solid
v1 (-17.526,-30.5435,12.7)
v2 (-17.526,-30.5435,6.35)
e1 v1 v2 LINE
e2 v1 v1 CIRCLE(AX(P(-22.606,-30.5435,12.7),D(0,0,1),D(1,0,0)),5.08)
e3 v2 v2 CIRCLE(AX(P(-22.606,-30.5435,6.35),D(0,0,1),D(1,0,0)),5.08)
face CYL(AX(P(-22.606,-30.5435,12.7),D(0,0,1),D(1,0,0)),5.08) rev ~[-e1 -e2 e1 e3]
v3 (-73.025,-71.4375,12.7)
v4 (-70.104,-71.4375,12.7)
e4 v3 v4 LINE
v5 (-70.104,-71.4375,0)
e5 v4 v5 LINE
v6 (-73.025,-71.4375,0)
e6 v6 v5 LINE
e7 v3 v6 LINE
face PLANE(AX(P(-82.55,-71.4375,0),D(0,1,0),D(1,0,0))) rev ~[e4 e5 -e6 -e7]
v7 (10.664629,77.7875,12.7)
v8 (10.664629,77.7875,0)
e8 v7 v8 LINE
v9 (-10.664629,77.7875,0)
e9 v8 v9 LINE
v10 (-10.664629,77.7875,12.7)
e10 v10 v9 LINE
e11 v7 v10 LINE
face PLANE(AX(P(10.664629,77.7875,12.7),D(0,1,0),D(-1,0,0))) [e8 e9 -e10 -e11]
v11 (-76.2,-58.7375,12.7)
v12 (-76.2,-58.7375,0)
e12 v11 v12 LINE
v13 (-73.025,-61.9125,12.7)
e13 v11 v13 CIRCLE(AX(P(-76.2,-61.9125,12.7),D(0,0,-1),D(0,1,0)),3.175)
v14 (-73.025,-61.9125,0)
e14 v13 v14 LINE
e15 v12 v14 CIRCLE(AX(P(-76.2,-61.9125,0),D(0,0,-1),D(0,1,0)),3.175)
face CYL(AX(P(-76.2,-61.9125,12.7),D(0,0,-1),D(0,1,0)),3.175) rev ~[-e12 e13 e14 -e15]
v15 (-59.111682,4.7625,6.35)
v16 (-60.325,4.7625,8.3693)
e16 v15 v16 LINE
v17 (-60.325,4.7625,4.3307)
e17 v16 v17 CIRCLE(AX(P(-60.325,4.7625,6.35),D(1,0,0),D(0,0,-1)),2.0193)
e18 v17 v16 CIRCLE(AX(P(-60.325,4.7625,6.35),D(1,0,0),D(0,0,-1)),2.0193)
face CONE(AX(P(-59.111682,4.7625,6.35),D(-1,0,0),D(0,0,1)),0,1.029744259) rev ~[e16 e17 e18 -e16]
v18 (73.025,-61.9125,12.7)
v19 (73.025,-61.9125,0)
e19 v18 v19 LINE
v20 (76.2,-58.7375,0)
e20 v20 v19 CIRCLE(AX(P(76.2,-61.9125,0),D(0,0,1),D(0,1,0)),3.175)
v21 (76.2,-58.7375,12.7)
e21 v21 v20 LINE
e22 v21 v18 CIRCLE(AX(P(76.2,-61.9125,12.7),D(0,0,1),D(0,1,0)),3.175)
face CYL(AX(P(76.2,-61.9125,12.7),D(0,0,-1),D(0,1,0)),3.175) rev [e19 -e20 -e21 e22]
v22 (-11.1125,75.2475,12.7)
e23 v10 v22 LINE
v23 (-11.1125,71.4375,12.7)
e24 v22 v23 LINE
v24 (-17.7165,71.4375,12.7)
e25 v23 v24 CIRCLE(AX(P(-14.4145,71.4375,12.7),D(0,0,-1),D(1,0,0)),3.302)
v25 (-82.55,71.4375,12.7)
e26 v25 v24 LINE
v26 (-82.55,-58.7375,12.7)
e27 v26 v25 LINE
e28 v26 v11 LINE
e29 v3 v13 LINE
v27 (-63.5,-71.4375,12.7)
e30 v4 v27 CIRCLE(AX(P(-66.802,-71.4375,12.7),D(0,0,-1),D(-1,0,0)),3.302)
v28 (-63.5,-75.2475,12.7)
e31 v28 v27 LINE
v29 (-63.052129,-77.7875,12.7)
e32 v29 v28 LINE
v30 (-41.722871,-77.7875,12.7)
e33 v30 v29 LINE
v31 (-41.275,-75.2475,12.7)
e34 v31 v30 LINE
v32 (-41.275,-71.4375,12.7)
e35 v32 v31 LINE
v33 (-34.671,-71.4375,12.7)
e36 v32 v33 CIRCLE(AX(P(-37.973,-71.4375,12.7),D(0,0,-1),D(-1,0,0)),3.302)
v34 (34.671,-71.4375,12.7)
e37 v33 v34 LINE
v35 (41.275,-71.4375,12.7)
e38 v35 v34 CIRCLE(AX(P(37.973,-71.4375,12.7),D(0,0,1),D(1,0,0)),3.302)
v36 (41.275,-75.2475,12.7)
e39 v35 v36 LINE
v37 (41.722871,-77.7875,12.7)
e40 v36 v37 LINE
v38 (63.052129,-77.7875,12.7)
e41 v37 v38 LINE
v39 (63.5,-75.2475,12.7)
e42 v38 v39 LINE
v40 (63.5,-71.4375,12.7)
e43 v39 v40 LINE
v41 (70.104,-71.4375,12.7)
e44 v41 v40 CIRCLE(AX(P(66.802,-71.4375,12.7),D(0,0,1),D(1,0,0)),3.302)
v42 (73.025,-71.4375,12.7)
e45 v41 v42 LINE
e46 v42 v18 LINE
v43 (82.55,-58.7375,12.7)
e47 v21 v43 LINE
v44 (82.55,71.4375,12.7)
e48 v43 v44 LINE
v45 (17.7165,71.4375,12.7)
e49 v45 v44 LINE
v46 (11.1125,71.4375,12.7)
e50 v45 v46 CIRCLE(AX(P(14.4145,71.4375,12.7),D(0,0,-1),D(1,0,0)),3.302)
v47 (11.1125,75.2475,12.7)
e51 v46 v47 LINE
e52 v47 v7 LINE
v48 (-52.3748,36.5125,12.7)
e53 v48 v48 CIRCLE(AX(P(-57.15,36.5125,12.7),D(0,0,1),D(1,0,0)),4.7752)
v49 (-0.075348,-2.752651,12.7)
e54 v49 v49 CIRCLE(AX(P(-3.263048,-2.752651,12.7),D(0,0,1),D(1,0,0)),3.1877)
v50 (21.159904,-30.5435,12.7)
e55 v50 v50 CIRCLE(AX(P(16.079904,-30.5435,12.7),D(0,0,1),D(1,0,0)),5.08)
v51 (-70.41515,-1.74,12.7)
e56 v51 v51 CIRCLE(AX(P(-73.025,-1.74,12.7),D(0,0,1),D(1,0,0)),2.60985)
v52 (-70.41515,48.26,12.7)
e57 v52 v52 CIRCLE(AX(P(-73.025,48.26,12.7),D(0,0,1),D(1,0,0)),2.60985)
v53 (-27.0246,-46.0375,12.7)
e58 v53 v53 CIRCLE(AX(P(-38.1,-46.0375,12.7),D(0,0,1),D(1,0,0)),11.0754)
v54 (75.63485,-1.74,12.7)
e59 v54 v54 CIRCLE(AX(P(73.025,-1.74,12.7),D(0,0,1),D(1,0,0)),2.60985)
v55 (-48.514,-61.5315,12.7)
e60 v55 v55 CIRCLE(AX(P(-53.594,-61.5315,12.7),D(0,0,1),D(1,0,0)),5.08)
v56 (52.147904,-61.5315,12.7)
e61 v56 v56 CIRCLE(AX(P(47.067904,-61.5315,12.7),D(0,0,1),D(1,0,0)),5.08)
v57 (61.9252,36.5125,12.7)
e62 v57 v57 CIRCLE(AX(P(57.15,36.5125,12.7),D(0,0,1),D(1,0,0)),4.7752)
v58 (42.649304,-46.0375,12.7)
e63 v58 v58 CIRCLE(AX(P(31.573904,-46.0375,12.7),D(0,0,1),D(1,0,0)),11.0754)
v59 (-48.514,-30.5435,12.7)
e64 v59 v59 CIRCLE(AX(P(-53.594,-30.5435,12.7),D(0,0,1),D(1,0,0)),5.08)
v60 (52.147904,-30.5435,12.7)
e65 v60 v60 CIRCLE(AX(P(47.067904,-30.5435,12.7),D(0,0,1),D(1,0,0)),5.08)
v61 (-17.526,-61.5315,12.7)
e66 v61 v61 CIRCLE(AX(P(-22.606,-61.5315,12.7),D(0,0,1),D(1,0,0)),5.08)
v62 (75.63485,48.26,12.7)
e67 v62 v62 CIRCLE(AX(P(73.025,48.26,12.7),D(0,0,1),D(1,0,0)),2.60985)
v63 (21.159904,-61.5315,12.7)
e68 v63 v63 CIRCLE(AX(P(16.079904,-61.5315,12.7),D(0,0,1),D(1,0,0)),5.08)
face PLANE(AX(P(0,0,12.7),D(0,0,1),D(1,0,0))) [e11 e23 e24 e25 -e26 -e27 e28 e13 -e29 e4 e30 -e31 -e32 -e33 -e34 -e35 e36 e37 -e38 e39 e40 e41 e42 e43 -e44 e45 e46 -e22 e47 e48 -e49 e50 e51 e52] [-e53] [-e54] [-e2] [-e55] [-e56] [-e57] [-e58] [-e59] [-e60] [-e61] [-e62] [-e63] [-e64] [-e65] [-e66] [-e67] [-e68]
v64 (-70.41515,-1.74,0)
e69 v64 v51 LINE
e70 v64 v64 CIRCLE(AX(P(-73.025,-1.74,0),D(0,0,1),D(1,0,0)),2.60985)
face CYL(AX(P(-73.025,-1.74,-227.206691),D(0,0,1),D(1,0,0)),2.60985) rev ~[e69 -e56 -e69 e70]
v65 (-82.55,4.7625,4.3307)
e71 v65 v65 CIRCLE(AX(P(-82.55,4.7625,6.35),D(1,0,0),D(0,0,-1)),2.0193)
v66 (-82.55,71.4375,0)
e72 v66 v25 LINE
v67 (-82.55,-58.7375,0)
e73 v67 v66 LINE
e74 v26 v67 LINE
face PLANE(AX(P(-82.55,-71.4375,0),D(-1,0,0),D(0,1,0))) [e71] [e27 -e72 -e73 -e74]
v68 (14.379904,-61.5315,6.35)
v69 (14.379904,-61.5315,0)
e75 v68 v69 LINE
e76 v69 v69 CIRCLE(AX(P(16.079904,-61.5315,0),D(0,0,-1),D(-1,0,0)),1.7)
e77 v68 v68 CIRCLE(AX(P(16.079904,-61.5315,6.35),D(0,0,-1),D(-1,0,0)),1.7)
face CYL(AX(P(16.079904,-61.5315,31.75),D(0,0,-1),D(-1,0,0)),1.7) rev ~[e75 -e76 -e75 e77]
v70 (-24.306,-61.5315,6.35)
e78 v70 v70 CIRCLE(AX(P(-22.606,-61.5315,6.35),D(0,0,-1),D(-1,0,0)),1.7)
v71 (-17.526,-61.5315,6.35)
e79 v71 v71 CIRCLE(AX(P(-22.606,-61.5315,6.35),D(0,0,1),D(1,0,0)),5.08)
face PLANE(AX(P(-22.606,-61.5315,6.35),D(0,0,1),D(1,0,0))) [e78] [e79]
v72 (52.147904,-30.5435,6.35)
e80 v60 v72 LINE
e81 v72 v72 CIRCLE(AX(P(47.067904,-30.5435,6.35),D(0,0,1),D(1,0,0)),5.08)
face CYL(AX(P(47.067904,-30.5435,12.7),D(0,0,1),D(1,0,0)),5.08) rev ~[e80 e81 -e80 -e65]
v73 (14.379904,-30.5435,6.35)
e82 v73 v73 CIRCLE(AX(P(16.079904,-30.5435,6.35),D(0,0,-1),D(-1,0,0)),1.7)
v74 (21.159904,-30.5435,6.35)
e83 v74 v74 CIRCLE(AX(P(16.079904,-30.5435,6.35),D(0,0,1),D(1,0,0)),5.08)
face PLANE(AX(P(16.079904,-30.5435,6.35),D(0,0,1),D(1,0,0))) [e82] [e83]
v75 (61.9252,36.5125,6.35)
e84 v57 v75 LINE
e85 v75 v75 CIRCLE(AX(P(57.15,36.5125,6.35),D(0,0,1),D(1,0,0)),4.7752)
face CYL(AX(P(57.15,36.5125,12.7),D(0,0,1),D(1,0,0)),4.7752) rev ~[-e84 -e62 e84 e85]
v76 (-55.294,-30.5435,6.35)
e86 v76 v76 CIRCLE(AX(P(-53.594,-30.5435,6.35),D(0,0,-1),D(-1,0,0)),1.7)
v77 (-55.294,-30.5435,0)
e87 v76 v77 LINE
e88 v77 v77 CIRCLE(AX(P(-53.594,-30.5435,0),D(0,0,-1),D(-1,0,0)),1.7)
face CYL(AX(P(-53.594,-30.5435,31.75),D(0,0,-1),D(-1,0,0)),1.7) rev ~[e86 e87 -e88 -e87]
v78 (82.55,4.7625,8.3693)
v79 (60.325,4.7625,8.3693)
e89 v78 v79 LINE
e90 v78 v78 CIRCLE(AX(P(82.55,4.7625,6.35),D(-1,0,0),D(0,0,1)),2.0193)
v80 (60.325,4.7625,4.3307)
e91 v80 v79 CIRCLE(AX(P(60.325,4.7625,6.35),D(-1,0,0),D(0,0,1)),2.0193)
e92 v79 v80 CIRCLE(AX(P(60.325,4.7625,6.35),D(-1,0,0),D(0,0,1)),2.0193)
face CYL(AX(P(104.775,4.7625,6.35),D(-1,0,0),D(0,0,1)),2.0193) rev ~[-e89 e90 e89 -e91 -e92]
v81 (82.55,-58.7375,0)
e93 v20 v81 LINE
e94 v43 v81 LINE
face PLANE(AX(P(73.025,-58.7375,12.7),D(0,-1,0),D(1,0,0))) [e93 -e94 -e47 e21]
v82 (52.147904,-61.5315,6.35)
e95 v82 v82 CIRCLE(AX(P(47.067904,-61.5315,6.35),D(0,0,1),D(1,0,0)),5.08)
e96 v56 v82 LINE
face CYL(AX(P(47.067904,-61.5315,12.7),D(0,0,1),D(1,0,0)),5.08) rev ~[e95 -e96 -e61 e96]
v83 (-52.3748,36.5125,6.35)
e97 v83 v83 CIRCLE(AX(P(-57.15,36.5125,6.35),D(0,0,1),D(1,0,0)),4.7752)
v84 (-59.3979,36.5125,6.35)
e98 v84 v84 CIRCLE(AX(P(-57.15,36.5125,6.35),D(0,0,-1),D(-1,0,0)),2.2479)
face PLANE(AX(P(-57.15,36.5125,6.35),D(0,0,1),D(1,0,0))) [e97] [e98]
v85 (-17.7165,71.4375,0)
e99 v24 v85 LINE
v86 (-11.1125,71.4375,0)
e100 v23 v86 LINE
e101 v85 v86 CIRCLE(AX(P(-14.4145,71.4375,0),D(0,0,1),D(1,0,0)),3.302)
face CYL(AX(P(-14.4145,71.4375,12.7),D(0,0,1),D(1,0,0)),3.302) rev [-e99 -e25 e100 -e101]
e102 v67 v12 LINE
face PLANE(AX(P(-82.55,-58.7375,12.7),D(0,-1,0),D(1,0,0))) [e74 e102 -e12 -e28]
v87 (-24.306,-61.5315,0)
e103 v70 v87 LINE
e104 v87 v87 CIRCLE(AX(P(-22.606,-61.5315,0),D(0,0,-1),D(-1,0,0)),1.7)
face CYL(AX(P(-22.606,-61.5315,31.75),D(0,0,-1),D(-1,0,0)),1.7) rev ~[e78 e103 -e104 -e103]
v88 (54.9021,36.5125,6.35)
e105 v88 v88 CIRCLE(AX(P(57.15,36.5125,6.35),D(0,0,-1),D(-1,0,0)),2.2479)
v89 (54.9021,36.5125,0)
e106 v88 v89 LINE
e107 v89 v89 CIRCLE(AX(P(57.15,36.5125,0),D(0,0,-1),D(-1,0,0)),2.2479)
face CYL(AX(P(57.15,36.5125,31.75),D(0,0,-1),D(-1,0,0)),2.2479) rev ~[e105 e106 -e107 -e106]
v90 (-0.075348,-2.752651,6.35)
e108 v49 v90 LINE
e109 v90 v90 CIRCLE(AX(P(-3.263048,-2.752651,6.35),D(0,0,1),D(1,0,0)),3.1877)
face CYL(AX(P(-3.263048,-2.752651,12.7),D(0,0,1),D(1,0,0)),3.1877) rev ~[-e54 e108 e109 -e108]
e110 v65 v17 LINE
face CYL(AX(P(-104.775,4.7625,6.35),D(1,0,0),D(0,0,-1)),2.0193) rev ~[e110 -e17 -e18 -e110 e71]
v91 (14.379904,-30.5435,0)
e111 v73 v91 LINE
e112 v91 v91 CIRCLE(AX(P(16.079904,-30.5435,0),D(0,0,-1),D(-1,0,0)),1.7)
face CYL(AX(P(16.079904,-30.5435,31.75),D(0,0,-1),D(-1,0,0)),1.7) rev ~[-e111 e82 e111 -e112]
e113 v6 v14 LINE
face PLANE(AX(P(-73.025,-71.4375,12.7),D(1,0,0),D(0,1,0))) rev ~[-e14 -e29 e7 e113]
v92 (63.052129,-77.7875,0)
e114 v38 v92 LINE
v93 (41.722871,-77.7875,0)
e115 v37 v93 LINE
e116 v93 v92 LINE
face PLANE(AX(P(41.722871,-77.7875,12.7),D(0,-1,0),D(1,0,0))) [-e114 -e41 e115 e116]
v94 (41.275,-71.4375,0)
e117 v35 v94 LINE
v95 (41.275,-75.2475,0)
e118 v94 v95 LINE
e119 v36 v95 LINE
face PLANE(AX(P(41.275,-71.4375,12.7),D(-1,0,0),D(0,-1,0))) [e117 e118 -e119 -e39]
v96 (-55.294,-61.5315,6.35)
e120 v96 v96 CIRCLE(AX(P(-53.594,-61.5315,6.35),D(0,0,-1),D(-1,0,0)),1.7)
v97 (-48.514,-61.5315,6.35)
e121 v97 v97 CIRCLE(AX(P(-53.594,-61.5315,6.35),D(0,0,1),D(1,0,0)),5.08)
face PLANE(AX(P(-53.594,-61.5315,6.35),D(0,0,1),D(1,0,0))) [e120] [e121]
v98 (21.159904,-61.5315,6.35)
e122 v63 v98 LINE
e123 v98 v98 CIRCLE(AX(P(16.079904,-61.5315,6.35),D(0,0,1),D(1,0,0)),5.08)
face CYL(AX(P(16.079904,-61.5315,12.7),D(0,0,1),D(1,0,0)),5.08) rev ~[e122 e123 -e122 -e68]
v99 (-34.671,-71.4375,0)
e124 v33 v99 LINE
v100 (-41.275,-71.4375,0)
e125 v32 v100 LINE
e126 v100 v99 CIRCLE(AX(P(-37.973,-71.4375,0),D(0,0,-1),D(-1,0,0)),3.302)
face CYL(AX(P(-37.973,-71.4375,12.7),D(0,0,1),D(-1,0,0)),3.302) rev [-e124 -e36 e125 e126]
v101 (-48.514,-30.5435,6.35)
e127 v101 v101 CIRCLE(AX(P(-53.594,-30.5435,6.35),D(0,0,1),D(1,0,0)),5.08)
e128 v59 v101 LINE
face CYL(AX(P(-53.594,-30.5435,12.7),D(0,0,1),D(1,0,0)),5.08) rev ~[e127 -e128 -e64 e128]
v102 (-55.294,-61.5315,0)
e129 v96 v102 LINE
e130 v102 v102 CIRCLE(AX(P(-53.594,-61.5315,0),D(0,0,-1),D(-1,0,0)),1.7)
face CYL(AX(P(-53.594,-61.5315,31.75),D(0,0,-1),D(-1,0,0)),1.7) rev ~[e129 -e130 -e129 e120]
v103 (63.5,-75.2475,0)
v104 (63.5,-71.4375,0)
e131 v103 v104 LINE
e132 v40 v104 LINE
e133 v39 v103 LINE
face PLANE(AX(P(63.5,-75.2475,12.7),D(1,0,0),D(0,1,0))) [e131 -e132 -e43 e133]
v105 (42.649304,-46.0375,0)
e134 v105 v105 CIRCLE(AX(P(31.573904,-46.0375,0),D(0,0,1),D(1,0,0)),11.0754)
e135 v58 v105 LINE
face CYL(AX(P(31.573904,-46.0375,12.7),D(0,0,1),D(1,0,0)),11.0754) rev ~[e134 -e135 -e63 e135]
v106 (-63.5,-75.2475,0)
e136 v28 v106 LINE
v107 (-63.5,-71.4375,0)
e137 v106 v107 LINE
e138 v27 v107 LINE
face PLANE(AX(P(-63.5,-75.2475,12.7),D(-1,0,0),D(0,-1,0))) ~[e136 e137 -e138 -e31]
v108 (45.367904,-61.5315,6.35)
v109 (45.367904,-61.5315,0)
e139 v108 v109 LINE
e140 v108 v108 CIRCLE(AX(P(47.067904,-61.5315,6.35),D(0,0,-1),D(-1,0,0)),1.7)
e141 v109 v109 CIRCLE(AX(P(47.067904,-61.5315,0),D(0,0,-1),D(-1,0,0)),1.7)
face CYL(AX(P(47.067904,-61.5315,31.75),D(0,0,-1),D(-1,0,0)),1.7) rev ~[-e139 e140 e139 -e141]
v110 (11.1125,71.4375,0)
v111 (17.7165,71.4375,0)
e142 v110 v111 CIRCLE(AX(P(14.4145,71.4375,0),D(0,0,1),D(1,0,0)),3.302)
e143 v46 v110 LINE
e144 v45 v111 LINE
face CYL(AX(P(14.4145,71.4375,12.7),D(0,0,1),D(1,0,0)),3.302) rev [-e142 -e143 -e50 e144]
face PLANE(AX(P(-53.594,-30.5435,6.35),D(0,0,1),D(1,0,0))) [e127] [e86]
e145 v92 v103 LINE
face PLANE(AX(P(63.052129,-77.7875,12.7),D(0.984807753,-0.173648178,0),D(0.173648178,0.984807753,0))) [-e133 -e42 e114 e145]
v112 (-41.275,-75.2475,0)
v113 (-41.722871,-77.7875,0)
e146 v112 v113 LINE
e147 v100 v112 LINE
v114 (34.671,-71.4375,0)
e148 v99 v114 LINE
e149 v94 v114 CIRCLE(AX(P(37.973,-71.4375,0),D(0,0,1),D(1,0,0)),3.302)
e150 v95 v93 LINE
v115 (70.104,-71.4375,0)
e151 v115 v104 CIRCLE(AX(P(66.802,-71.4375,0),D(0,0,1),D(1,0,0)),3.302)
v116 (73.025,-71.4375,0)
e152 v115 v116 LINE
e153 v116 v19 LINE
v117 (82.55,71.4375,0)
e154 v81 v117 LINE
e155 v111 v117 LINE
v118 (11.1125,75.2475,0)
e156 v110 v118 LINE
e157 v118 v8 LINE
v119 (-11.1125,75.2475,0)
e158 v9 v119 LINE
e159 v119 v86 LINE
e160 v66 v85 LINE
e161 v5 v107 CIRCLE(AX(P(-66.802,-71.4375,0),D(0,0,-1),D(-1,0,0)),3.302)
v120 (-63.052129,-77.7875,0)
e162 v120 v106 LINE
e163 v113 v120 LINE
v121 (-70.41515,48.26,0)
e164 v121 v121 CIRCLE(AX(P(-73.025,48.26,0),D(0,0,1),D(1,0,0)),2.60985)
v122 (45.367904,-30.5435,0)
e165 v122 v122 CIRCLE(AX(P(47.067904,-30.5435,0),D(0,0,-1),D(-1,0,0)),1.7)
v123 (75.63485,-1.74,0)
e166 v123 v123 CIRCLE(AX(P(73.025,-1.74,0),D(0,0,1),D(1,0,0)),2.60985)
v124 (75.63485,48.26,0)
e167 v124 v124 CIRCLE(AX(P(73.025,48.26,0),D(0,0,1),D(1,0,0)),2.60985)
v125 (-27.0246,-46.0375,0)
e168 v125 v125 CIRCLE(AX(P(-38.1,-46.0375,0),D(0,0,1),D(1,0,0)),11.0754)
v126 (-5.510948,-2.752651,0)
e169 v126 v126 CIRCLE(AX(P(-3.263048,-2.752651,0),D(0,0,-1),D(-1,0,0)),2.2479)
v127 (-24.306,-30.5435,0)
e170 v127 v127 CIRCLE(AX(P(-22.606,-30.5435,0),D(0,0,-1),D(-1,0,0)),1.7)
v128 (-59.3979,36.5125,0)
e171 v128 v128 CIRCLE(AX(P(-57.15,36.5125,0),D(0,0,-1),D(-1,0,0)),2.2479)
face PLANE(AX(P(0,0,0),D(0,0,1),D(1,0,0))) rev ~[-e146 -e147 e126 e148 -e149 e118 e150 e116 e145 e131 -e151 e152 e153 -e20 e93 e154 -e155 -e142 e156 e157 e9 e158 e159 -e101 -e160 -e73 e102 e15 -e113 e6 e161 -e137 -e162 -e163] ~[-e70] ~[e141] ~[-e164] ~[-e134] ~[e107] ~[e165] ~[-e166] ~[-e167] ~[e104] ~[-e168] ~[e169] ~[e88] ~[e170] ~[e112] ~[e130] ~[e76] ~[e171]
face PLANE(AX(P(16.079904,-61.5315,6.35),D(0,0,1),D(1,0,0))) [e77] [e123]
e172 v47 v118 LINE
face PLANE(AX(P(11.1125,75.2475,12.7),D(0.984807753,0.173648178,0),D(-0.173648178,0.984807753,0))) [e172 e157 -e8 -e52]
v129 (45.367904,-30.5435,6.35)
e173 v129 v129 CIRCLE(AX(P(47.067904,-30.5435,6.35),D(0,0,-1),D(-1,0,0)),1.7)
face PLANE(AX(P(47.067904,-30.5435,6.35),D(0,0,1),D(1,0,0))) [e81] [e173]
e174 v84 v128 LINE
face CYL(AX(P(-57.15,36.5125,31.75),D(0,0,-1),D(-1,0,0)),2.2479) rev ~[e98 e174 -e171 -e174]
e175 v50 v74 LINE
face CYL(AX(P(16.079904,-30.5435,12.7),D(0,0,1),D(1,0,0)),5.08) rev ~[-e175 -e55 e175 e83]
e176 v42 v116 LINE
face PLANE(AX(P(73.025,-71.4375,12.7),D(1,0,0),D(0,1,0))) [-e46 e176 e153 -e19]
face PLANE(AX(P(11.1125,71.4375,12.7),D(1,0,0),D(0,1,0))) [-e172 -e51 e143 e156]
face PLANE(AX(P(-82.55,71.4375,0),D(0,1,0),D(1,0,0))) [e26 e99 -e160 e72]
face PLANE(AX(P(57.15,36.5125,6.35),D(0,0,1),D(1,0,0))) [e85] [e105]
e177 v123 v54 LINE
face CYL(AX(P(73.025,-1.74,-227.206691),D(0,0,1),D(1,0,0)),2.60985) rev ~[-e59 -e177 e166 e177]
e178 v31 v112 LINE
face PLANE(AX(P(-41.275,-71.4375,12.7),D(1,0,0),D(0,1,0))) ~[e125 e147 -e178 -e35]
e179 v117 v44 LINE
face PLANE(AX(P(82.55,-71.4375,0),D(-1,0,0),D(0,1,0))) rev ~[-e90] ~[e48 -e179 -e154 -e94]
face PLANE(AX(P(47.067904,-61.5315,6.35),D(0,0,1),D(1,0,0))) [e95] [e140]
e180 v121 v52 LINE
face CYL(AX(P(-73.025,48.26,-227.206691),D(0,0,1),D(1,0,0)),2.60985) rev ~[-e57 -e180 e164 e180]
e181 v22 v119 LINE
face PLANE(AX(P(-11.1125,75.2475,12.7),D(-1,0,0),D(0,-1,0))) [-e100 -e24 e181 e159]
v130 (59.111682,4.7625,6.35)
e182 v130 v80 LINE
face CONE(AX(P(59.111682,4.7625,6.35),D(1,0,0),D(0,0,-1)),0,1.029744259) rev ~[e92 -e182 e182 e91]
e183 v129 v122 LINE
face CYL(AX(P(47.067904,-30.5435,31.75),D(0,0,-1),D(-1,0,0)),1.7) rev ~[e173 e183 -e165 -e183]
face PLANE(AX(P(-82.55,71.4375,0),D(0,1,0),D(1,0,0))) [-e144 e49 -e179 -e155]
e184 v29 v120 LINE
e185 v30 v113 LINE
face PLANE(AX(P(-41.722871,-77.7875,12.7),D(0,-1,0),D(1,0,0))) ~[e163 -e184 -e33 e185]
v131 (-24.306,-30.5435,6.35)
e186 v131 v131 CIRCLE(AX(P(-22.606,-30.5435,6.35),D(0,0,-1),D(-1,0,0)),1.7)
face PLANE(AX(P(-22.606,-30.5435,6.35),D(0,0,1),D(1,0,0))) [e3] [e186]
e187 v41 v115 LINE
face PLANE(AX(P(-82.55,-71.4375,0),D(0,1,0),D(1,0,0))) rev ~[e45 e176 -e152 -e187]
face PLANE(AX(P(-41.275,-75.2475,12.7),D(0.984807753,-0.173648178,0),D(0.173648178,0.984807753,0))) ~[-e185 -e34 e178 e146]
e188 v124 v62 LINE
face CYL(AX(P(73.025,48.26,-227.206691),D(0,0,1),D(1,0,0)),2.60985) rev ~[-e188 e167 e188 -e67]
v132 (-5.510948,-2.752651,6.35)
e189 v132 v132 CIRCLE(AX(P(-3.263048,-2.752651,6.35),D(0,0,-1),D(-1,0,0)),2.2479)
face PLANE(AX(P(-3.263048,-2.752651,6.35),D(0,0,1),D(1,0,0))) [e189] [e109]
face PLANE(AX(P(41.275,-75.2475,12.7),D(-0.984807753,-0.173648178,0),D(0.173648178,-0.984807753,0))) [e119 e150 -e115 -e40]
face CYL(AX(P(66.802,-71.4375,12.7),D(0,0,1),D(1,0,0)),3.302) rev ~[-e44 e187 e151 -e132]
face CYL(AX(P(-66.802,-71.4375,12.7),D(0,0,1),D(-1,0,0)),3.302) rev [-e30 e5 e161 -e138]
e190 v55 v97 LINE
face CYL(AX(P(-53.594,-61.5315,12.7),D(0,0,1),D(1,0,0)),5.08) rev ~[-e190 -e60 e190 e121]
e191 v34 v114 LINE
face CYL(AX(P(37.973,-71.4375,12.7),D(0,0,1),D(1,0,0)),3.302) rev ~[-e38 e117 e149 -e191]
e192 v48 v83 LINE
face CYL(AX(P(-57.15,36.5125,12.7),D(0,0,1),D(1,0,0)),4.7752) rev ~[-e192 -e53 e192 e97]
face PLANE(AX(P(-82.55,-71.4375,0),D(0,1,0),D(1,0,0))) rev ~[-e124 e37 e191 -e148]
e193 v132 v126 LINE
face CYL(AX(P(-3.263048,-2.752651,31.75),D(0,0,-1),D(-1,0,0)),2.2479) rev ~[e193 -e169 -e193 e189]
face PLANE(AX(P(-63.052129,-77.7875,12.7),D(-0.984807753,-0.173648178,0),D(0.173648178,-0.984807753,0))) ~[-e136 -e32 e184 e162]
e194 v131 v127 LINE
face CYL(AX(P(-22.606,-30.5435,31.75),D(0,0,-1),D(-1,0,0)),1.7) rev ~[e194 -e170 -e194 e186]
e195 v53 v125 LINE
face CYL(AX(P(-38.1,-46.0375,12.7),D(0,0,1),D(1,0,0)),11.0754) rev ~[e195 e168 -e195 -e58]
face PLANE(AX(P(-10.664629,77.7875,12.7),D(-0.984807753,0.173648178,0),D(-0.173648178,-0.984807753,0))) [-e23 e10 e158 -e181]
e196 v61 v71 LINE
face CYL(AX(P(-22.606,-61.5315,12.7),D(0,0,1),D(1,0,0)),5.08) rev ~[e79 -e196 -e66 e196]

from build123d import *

# Parameters (mm, degrees)
SKETCH1_W                       = 165.1
SKETCH1_H                       = 142.875
BOSS_EXTRUDE1_DEPTH             = 12.7
BOSS_EXTRUDE2_DEPTH             = 12.7
CUT_EXTRUDE1_REACH              = 116.135
BOSS_EXTRUDE3_DEPTH             = 12.7
F_21_0_159_DIAMETER_HOLE2_D     = 4.0386
F_21_0_159_DIAMETER_HOLE2_DEPTH = 22.225
F_21_0_159_DIAMETER_HOLE2_TIP   = 1.213317848
F_21_0_159_DIAMETER_HOLE3_D     = 4.0386
F_21_0_159_DIAMETER_HOLE3_DEPTH = 22.225
F_21_0_159_DIAMETER_HOLE3_TIP   = 1.213317848
CUT_EXTRUDE2_DEPTH              = 12.7
SKETCH21_R                      = 5.08
SKETCH21_R_2                    = 4.7752
SKETCH21_R_3                    = 11.075399998
SKETCH21_R_4                    = 3.1877
CUT_EXTRUDE10_DEPTH             = 6.35
F_8_CLEARANCE_HOLE1_D           = 4.4958
F_8_CLEARANCE_HOLE1_DEPTH       = 19.05
F_8_CLEARANCE_HOLE1_TIP         = 1.350674586
M3_CLEARANCE_HOLE1_D            = 3.4
M3_CLEARANCE_HOLE1_DEPTH        = 19.05
M3_CLEARANCE_HOLE1_TIP          = 1.021463052
SKETCH28_R                      = 11.075399998
CUT_EXTRUDE11_DEPTH             = 12.7
SKETCH29_W                      = 9.525
SKETCH29_H                      = 12.7
CUT_EXTRUDE12_DEPTH             = 115.134515622
FILLET1_R                       = 3.175
F_5_0_2055_DIAMETER_HOLE1_D     = 5.2197


with BuildPart() as part:
    # Sketch1 → Boss-Extrude1 (new body)
    with BuildSketch(Plane.XY):
        Rectangle(SKETCH1_W, SKETCH1_H)
    extrude(amount=BOSS_EXTRUDE1_DEPTH)

    # Sketch2 → Boss-Extrude2 (add)
    with BuildSketch(Plane.XY.offset(12.7)):
        Polygon((-11.1125, 71.4375), (11.1125, 71.4375), (11.1125, 75.2475), (10.664629469, 77.7875), (-10.664629469, 77.7875), (-11.1125, 75.2475), align=None)
    extrude(amount=-BOSS_EXTRUDE2_DEPTH)

    # Sketch4 → Cut-Extrude1 (cut, up to next)
    with BuildSketch(Plane.XY.offset(12.7), mode=Mode.PRIVATE) as cut_extrude1_sk1:
        with BuildLine():
            Line((-17.7165, 71.4375), (-11.1125, 71.4375))
            ThreePointArc((-11.1125, 71.4375), (-14.4145, 68.1355), (-17.7165, 71.4375))
        make_face()
    cut_extrude1_tool1 = extrude(cut_extrude1_sk1.sketch, amount=-CUT_EXTRUDE1_REACH, mode=Mode.PRIVATE) & part.part
    # Sketch4 → Cut-Extrude1 (cut, up to next)
    with BuildSketch(Plane.XY.offset(12.7), mode=Mode.PRIVATE) as cut_extrude1_sk2:
        with BuildLine():
            Line((11.1125, 71.4375), (17.7165, 71.4375))
            ThreePointArc((17.7165, 71.4375), (14.4145, 68.1355), (11.1125, 71.4375))
        make_face()
    cut_extrude1_tool2 = extrude(cut_extrude1_sk2.sketch, amount=-CUT_EXTRUDE1_REACH, mode=Mode.PRIVATE) & part.part
    add(cut_extrude1_tool1.solids().sort_by_distance((-14.4145, 70.036088, 12.7))[0], mode=Mode.SUBTRACT)
    add(cut_extrude1_tool2.solids().sort_by_distance((14.4145, 70.036088, 12.7))[0], mode=Mode.SUBTRACT)

    # Sketch5 → Boss-Extrude3 (add)
    with BuildSketch(Plane.XY.offset(12.7)):
        Polygon((63.5, -71.4375), (41.275, -71.4375), (41.275, -75.2475), (41.722870531, -77.7875), (63.052129469, -77.7875), (63.5, -75.2475), align=None)
    boss_extrude3 = extrude(amount=-BOSS_EXTRUDE3_DEPTH)

    # #21 (0.159) Diameter Hole2
    with Locations(Plane(origin=(82.55, 0, 0), x_dir=(0, 0, -1), z_dir=(1, 0, 0))):
        with Locations((-6.35, 4.7625)):
            Hole(F_21_0_159_DIAMETER_HOLE2_D / 2, depth=F_21_0_159_DIAMETER_HOLE2_DEPTH)
            with Locations((0, 0, -(F_21_0_159_DIAMETER_HOLE2_DEPTH + F_21_0_159_DIAMETER_HOLE2_TIP / 2))):  # 118° drill point
                Cone(0, F_21_0_159_DIAMETER_HOLE2_D / 2, F_21_0_159_DIAMETER_HOLE2_TIP, mode=Mode.SUBTRACT)

    # #21 (0.159) Diameter Hole3
    with Locations(Plane.ZY.offset(82.55)):
        with Locations((6.35, 4.7625)):
            Hole(F_21_0_159_DIAMETER_HOLE3_D / 2, depth=F_21_0_159_DIAMETER_HOLE3_DEPTH)
            with Locations((0, 0, -(F_21_0_159_DIAMETER_HOLE3_DEPTH + F_21_0_159_DIAMETER_HOLE3_TIP / 2))):  # 118° drill point
                Cone(0, F_21_0_159_DIAMETER_HOLE3_D / 2, F_21_0_159_DIAMETER_HOLE3_TIP, mode=Mode.SUBTRACT)

    # Sketch6 → Cut-Extrude2 (cut)
    with BuildSketch(Plane.XY.offset(12.7)):
        with BuildLine():
            Line((34.671, -71.4375), (41.275, -71.4375))
            ThreePointArc((41.275, -71.4375), (37.973, -68.1355), (34.671, -71.4375))
        make_face()
        with BuildLine():
            Line((63.5, -71.4375), (70.104, -71.4375))
            ThreePointArc((70.104, -71.4375), (66.802, -68.1355), (63.5, -71.4375))
        make_face()
    cut_extrude2 = extrude(amount=-CUT_EXTRUDE2_DEPTH, mode=Mode.SUBTRACT)

    # Mirror1: Boss-Extrude3, Cut-Extrude2 across plane
    add(boss_extrude3.mirror(Plane(origin=(0, 0, 0), x_dir=(0, 0, 1), z_dir=(1, 0, 0))))
    add(cut_extrude2.mirror(Plane(origin=(0, 0, 0), x_dir=(0, 0, 1), z_dir=(1, 0, 0))), mode=Mode.SUBTRACT)

    # Sketch21 → Cut-Extrude10 (cut)
    with BuildSketch(Plane.XY.offset(12.7)):
        with Locations((-53.594, -61.5315)):
            Circle(SKETCH21_R)
        with Locations((-57.15, 36.5125)):
            Circle(SKETCH21_R_2)
        with Locations((-53.594, -30.5435)):
            Circle(SKETCH21_R)
        with Locations((-22.606, -30.5435)):
            Circle(SKETCH21_R)
        with Locations((-22.606, -61.5315)):
            Circle(SKETCH21_R)
        with Locations((-38.1, -46.0375)):
            Circle(SKETCH21_R_3)
        with Locations((-3.263048163, -2.752650538)):
            Circle(SKETCH21_R_4)
        with Locations((31.573903673, -46.0375)):
            Circle(SKETCH21_R_3)
        with Locations((16.079903673, -30.5435)):
            Circle(SKETCH21_R)
        with Locations((47.067903673, -30.5435)):
            Circle(SKETCH21_R)
        with Locations((47.067903673, -61.5315)):
            Circle(SKETCH21_R)
        with Locations((16.079903673, -61.5315)):
            Circle(SKETCH21_R)
        with Locations((57.15, 36.5125)):
            Circle(SKETCH21_R_2)
    extrude(amount=-CUT_EXTRUDE10_DEPTH, mode=Mode.SUBTRACT)

    # #8 Clearance Hole1
    with Locations(Plane.XY.offset(12.7)):
        with Locations((-57.15, 36.5125), (57.15, 36.5125), (-3.263048163, -2.752650538)):
            Hole(F_8_CLEARANCE_HOLE1_D / 2, depth=F_8_CLEARANCE_HOLE1_DEPTH)
            with Locations((0, 0, -(F_8_CLEARANCE_HOLE1_DEPTH + F_8_CLEARANCE_HOLE1_TIP / 2))):  # 118° drill point
                Cone(0, F_8_CLEARANCE_HOLE1_D / 2, F_8_CLEARANCE_HOLE1_TIP, mode=Mode.SUBTRACT)

    # M3 Clearance Hole1
    with Locations(Plane.XY.offset(12.7)):
        with Locations((-53.594, -30.5435), (-22.606, -30.5435), (-22.606, -61.5315), (-53.594, -61.5315), (16.079903673, -61.5315), (16.079903673, -30.5435), (47.067903673, -30.5435), (47.067903673, -61.5315)):
            Hole(M3_CLEARANCE_HOLE1_D / 2, depth=M3_CLEARANCE_HOLE1_DEPTH)
            with Locations((0, 0, -(M3_CLEARANCE_HOLE1_DEPTH + M3_CLEARANCE_HOLE1_TIP / 2))):  # 118° drill point
                Cone(0, M3_CLEARANCE_HOLE1_D / 2, M3_CLEARANCE_HOLE1_TIP, mode=Mode.SUBTRACT)

    # Sketch28 → Cut-Extrude11 (cut)
    with BuildSketch(Plane.XY.offset(12.7)):
        with Locations((31.573903673, -46.0375)):
            Circle(SKETCH28_R)
        with Locations((-38.1, -46.0375)):
            Circle(SKETCH28_R)
    extrude(amount=-CUT_EXTRUDE11_DEPTH, mode=Mode.SUBTRACT)

    # Sketch29 → Cut-Extrude12 (cut, through all)
    with BuildSketch(Plane.XY.offset(12.7)):
        with Locations((-77.7875, -65.0875)):
            Rectangle(SKETCH29_W, SKETCH29_H)
        with Locations((77.7875, -65.0875)):
            Rectangle(SKETCH29_W, SKETCH29_H)
    extrude(amount=-CUT_EXTRUDE12_DEPTH, mode=Mode.SUBTRACT)

    # Fillet1
    fillet1_edges = [part.edges().sort_by_distance(p)[0] for p in [
        (-73.025, -58.7375, 6.35),
        (73.025, -58.7375, 6.35),
    ]]
    fillet(fillet1_edges, radius=FILLET1_R)

    # #5 (0.2055) Diameter Hole1 (through all)
    with Locations(Plane(origin=(0, 0, 0), x_dir=(-1, 0, 0), z_dir=(0, 0, -1))):
        with Locations((-73.025, 48.26), (73.025, 48.26), (73.025, -1.740000076), (-73.025, -1.740000076)):
            Hole(F_5_0_2055_DIAMETER_HOLE1_D / 2)


solid = part.part
